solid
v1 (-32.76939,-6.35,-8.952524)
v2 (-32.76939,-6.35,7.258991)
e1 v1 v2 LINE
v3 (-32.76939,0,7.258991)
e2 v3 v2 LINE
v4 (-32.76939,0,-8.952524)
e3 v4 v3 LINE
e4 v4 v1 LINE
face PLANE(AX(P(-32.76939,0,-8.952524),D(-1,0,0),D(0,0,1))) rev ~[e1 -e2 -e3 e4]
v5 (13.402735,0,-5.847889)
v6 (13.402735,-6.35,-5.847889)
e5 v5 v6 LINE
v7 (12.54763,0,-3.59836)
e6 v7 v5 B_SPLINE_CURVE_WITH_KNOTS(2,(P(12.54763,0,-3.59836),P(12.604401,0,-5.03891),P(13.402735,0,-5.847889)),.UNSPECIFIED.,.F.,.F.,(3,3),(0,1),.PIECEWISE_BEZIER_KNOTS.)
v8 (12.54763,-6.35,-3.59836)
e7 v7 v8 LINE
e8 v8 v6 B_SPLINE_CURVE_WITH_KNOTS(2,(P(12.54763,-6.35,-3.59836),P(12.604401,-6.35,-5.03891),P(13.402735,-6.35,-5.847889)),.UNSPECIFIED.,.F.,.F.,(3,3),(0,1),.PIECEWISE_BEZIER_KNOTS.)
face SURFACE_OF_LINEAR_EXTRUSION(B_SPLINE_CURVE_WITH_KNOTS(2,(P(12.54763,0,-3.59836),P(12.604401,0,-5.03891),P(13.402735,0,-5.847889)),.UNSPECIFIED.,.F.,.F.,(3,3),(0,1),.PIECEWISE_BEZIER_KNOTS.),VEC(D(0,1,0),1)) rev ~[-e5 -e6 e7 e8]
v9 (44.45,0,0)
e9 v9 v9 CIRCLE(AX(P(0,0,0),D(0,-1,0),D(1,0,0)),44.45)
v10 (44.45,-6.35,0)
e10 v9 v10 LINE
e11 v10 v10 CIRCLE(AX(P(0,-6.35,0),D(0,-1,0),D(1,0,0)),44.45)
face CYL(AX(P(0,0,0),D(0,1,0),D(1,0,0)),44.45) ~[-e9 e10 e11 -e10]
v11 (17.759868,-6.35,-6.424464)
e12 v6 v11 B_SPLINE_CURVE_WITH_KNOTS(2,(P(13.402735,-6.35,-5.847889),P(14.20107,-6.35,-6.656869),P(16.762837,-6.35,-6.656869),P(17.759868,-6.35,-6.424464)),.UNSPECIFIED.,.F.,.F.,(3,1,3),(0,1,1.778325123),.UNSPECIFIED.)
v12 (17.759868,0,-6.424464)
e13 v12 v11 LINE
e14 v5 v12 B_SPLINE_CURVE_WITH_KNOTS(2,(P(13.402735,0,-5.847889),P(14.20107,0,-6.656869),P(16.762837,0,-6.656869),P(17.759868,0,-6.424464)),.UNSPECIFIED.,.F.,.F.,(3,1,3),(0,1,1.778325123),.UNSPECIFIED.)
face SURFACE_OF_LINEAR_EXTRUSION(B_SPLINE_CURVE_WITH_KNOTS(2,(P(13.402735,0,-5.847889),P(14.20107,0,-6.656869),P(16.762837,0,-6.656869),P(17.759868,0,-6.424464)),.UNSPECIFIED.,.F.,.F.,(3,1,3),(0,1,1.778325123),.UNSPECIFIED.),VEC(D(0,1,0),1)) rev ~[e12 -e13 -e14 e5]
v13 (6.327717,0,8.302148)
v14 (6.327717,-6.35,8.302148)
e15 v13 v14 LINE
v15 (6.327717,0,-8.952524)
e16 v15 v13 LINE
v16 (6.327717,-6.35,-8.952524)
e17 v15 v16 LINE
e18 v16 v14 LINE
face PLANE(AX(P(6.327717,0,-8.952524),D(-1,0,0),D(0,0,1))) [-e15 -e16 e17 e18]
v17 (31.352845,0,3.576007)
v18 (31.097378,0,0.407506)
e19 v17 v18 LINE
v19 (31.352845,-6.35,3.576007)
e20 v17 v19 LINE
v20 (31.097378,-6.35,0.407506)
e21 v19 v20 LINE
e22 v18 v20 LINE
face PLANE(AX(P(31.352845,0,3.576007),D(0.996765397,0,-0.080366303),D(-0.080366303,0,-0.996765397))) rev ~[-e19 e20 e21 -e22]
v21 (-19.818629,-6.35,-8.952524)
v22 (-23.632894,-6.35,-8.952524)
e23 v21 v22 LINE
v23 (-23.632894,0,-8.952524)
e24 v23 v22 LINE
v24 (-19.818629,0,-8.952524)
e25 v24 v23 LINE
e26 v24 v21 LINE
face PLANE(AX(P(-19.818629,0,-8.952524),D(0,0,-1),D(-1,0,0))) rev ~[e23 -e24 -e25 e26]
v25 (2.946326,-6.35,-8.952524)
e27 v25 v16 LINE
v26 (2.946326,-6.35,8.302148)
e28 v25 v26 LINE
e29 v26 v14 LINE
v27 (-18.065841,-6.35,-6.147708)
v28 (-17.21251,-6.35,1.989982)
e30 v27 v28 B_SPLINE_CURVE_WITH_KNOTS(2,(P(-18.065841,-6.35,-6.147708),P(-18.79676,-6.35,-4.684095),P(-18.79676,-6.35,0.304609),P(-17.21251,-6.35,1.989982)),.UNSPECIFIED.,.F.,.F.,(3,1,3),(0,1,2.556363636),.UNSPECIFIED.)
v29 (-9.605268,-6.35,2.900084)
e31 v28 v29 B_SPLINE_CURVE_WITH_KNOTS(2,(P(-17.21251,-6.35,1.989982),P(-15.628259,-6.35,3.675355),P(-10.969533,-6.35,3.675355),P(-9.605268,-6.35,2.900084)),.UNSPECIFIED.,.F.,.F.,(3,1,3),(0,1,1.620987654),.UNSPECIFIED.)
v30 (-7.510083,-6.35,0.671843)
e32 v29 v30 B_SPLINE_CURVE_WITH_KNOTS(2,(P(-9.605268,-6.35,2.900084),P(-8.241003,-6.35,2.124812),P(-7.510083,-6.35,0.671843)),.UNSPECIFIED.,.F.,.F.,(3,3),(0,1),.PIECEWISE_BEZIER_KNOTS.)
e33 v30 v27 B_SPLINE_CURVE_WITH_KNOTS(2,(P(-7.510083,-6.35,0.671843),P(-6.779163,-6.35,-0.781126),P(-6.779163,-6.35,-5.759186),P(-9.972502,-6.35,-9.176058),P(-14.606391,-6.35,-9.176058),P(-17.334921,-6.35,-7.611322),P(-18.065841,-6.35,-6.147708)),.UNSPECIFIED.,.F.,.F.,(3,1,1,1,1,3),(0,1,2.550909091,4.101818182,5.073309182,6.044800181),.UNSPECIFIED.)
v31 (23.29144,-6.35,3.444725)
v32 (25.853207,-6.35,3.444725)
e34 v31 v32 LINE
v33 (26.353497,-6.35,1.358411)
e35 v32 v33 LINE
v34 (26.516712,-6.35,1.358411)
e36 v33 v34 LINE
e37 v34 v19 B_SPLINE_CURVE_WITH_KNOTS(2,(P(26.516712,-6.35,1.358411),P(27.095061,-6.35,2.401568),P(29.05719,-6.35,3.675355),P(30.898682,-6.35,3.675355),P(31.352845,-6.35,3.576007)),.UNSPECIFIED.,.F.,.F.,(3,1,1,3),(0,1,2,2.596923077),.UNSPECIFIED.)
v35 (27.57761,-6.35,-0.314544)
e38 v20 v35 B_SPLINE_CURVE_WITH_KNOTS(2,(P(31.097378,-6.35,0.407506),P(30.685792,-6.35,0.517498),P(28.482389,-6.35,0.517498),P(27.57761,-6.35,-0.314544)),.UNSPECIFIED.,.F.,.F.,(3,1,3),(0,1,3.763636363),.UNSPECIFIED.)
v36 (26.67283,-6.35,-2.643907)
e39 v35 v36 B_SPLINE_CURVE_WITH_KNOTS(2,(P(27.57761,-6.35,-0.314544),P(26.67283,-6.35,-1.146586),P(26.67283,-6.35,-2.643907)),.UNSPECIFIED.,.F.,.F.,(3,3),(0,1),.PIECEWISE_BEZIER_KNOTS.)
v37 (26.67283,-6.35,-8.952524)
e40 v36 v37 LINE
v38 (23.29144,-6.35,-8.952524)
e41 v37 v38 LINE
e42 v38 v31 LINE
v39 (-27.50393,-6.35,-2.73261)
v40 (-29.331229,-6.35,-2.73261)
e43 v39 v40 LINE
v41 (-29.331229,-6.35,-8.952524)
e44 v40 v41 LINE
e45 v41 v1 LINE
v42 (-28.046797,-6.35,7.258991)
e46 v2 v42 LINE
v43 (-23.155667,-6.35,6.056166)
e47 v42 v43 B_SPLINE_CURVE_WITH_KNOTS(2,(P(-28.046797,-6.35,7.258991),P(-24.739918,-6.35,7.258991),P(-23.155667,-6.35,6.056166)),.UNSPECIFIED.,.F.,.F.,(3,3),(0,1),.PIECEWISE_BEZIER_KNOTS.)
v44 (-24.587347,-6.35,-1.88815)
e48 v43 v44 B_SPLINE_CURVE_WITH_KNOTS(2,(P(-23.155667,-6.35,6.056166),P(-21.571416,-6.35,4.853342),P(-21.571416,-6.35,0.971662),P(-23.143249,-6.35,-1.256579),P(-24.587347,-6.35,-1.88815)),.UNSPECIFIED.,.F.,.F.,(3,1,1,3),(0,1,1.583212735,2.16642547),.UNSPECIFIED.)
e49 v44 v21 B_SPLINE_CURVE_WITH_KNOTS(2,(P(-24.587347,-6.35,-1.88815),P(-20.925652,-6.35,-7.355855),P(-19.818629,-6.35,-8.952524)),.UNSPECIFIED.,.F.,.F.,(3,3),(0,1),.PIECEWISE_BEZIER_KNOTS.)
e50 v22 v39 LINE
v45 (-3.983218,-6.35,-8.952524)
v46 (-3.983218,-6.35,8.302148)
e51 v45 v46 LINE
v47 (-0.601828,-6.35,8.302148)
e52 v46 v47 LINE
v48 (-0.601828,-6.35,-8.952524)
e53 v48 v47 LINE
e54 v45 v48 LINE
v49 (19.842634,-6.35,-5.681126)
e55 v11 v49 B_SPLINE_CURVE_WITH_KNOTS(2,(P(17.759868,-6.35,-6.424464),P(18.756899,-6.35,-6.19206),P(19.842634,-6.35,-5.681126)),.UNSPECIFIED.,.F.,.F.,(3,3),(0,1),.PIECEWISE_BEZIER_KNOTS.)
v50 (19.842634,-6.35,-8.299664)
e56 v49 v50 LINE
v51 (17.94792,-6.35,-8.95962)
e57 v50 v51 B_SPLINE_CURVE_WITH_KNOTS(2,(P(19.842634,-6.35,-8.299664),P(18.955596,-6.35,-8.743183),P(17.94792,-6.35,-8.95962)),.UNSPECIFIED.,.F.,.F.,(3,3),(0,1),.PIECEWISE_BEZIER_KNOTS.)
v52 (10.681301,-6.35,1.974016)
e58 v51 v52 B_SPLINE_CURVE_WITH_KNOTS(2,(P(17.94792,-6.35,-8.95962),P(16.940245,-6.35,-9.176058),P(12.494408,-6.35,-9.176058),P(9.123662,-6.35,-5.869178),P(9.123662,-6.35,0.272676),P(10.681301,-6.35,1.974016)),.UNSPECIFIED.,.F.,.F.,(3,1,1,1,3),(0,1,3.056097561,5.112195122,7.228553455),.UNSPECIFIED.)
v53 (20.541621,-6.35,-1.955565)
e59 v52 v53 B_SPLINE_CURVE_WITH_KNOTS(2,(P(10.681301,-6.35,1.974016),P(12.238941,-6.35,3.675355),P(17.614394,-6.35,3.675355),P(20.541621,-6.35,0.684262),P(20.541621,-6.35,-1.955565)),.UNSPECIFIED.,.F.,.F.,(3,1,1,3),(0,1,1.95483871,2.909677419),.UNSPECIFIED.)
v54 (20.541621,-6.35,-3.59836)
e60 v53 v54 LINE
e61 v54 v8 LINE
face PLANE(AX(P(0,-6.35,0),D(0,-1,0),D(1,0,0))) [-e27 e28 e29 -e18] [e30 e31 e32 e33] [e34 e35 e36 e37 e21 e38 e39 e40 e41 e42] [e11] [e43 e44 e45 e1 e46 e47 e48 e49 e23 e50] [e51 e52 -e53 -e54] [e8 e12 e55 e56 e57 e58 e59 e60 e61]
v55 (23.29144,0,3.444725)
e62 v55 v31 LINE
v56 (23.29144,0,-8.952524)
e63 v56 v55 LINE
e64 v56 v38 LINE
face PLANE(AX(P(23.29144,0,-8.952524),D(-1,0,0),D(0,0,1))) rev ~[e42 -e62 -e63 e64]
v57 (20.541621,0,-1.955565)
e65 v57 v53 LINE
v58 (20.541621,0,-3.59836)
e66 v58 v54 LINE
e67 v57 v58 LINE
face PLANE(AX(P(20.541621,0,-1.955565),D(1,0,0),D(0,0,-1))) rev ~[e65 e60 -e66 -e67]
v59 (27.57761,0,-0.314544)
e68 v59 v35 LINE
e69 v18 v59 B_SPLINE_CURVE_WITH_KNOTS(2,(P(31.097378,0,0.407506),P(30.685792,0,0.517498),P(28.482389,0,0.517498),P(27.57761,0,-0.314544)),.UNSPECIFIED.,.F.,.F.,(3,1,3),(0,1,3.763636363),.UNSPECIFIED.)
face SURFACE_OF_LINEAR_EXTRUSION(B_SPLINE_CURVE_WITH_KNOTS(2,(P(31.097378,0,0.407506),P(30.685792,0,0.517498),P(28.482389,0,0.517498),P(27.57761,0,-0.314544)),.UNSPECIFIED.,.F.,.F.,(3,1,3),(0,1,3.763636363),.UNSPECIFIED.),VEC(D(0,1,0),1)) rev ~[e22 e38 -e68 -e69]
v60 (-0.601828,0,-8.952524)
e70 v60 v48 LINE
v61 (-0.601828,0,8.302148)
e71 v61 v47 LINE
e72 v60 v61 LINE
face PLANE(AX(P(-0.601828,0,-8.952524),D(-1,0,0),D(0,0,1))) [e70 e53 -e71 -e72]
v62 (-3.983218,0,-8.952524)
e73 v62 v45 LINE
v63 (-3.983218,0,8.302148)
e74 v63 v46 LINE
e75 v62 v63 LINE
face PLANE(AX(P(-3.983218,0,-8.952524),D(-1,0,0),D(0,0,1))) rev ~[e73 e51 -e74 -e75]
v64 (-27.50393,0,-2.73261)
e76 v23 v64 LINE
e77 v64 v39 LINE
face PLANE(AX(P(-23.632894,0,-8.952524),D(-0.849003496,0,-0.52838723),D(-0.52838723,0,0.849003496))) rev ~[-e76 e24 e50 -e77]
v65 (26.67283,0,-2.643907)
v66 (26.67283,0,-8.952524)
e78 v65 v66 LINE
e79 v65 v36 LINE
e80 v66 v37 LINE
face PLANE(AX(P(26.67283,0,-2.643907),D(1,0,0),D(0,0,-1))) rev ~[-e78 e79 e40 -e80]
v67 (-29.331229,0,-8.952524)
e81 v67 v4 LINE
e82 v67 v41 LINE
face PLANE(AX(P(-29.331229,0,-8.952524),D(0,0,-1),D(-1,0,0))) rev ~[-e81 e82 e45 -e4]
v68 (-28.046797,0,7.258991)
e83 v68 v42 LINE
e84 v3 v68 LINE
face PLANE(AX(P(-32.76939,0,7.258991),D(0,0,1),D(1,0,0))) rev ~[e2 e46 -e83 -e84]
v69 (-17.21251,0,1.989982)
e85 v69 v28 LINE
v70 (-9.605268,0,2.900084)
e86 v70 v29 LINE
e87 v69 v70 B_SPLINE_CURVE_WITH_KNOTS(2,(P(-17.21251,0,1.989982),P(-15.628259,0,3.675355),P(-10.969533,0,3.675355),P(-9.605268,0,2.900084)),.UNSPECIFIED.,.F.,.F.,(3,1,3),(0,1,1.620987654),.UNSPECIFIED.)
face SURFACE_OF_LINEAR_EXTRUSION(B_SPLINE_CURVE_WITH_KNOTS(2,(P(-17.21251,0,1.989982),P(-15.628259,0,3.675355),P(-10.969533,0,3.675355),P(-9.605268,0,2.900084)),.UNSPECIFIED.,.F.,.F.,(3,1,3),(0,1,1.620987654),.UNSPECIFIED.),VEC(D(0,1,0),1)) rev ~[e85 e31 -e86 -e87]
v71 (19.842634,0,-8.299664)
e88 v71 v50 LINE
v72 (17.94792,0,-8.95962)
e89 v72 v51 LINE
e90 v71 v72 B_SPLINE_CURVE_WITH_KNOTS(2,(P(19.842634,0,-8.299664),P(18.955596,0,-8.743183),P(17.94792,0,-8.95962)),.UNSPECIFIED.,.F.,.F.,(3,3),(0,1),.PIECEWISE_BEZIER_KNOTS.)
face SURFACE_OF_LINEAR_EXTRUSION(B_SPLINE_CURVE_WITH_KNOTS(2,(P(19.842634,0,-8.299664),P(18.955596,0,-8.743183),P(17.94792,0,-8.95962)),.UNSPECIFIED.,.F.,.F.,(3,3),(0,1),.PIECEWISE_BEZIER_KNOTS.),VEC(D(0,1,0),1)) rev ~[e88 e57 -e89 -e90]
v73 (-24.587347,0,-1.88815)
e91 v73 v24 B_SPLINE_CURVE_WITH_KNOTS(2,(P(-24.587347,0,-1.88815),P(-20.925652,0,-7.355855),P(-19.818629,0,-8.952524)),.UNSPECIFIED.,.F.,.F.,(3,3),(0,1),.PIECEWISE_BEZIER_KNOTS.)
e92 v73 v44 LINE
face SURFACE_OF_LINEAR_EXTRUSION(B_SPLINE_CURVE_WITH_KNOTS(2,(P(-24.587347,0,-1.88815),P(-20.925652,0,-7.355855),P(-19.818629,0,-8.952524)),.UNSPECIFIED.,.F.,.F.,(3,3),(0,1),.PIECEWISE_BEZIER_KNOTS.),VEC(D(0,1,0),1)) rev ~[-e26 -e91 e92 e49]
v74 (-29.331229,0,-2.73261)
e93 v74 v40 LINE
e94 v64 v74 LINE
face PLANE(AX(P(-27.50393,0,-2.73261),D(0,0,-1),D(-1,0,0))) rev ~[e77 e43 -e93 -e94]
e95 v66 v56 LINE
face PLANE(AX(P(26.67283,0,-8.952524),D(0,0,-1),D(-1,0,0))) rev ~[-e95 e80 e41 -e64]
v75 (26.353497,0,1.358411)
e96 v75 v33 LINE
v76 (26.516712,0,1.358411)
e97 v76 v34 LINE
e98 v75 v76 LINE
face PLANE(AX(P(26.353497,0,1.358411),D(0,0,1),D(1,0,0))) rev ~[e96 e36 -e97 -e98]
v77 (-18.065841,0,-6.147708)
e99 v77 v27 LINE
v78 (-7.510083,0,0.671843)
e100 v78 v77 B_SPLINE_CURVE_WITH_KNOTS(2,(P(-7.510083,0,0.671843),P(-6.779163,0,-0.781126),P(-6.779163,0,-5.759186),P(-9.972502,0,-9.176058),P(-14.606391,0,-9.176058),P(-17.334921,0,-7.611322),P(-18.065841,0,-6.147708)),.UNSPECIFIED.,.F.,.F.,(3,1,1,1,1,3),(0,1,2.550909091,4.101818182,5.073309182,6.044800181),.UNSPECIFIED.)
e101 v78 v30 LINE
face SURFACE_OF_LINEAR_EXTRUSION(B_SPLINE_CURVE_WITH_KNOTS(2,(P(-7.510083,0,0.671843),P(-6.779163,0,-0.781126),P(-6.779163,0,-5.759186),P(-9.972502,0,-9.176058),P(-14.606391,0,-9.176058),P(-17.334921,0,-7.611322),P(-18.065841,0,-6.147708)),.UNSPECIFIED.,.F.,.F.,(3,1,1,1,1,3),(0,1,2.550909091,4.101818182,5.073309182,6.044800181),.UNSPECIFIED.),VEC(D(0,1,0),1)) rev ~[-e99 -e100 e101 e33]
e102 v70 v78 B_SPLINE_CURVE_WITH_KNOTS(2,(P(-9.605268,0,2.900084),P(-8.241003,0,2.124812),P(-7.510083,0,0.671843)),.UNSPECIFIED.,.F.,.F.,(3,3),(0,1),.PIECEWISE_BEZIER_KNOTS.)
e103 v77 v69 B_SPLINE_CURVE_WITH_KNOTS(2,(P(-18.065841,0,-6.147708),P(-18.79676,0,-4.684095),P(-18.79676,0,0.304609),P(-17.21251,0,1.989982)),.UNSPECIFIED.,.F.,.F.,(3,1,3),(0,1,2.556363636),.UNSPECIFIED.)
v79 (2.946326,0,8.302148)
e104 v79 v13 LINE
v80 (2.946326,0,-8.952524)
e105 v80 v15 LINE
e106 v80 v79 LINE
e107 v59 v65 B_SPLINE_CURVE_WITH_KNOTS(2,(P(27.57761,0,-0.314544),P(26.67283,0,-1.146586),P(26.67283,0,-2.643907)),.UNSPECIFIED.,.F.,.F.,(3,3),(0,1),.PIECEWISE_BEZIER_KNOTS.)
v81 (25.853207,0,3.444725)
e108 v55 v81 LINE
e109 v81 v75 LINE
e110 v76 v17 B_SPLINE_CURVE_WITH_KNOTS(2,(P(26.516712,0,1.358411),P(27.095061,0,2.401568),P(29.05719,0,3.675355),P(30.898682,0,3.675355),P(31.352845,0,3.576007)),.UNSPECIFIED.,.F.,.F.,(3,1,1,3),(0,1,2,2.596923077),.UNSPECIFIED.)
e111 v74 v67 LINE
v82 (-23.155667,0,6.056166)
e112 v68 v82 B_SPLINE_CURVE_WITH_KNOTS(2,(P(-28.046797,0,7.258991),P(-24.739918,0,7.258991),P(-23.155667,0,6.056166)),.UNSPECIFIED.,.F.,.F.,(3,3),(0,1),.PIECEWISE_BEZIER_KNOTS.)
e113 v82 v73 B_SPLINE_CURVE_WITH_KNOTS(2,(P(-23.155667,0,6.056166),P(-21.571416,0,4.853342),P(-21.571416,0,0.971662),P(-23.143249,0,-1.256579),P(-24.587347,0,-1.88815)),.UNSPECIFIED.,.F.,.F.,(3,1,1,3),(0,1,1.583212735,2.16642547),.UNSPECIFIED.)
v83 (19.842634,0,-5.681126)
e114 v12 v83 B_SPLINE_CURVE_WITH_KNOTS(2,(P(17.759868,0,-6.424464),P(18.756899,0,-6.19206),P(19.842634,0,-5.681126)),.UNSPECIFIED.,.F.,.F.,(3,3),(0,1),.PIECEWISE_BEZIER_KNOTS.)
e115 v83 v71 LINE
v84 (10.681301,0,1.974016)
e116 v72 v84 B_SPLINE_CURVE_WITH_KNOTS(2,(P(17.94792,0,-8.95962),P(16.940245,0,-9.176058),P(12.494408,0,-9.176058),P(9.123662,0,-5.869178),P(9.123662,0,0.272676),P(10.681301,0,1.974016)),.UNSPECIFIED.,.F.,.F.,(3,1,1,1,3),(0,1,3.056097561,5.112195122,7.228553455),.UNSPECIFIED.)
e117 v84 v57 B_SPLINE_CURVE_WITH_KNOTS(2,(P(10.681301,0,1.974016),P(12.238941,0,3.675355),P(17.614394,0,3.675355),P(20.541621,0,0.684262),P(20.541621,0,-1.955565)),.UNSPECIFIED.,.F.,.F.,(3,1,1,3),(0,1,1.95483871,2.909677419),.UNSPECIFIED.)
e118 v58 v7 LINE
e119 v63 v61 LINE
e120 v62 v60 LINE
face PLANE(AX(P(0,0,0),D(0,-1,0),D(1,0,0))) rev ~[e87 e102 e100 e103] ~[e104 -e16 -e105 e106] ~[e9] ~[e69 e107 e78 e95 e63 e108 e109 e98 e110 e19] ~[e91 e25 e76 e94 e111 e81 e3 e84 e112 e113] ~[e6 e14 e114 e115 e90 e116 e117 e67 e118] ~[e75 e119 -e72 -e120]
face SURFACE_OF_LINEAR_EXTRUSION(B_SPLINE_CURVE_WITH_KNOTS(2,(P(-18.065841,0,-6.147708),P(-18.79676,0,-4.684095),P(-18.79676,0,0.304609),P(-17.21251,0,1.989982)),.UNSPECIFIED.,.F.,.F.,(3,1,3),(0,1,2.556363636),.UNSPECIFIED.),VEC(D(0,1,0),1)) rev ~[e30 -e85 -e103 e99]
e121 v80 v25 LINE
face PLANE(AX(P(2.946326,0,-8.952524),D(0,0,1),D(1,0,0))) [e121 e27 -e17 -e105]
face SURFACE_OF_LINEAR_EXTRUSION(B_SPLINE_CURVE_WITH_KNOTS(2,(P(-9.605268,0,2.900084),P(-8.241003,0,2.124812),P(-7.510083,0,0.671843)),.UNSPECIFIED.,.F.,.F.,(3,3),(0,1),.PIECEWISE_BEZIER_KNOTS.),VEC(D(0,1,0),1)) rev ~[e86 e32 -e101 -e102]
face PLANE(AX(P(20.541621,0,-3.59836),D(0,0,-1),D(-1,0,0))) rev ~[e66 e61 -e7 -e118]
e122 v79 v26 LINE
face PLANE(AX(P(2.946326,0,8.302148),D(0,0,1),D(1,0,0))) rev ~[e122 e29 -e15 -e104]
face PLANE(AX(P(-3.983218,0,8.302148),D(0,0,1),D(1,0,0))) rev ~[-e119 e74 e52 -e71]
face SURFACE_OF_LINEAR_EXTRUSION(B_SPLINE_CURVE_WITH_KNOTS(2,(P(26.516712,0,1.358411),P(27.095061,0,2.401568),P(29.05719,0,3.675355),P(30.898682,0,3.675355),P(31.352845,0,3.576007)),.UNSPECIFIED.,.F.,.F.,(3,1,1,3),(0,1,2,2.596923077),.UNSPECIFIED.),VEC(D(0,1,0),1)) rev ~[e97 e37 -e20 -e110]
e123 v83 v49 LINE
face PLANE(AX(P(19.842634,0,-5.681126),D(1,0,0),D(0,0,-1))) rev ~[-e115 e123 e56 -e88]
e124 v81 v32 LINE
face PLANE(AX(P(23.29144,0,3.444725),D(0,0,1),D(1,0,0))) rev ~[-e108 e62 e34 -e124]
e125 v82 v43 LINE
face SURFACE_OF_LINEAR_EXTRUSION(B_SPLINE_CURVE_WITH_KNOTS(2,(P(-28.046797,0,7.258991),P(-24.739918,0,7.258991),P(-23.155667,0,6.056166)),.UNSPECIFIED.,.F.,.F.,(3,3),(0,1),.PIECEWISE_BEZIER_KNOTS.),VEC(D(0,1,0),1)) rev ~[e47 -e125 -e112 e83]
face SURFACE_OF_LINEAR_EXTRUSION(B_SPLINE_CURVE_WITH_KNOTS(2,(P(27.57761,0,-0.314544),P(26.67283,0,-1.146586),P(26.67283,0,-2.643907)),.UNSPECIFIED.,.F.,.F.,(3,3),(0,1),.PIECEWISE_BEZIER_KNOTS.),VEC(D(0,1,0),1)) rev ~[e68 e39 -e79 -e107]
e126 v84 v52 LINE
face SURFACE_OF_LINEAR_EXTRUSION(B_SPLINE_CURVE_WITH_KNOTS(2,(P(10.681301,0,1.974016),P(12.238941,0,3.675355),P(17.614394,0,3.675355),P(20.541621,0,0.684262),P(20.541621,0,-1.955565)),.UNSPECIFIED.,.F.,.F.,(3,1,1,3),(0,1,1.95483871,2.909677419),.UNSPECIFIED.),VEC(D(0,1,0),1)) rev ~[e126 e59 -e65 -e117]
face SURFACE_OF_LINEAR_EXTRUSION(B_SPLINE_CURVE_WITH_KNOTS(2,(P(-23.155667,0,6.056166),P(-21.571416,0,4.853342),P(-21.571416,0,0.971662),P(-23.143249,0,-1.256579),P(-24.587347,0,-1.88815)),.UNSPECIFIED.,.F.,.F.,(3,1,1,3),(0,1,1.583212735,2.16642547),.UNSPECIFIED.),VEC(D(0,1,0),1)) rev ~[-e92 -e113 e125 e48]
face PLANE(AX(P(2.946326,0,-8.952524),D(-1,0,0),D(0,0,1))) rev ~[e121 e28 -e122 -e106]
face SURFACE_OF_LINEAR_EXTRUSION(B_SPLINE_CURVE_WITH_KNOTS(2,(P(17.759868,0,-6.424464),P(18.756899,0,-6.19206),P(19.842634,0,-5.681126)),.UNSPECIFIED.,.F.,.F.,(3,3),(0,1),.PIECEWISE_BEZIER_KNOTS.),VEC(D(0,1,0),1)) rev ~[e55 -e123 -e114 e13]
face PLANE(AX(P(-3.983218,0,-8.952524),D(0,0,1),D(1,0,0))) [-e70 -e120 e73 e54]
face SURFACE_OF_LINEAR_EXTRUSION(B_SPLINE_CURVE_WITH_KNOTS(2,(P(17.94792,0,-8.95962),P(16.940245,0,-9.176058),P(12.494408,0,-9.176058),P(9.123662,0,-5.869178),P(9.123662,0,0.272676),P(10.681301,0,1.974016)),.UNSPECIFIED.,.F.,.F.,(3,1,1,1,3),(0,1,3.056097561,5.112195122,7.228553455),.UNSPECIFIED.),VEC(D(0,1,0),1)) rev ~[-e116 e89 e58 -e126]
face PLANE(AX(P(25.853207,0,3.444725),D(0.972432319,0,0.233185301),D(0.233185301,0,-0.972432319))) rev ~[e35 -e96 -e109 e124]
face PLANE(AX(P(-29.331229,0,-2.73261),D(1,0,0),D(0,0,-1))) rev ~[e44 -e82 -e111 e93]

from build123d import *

# Parameters (mm, degrees)
F0_R     = 44.45
F0_W     = 3.3813905481
F0_H     = 17.2546718104
F1_DEPTH = 6.35


with BuildPart() as f1:
    # F0 (on Front) → F1 (new body)
    with BuildSketch(Plane.XZ):
        Circle(F0_R)
        with BuildLine():
            Line((-27.5039295863, -2.7326104788), (-29.3312287807, -2.7326104788))
            Line((-29.3312287807, -2.7326104788), (-29.3312287807, -8.9525240473))
            Line((-29.3312287807, -8.9525240473), (-32.7693897892, -8.9525240473))
            Line((-32.7693897892, -8.9525240473), (-32.7693897892, 7.2589905531))
            Line((-32.7693897892, 7.2589905531), (-28.046797114, 7.2589905531))
            add(Edge.make_bspline(
                [(-28.046797114, 7.2589905531), (-24.7399177952, 7.2589905531), (-23.1556671344, 6.0561664231)],
                knots=[0, 0, 0, 1, 1, 1], degree=2))
            add(Edge.make_bspline(
                [(-23.1556671344, 6.0561664231), (-21.5714164736, 4.8533422932), (-21.5714164736, 2.4015680344)],
                knots=[0, 0, 0, 1, 1, 1], degree=2))
            add(Edge.make_bspline(
                [(-21.5714164736, 2.4015680344), (-21.5714164736, 0.9716620628), (-22.3573325349, -0.1424582227)],
                knots=[0, 0, 0, 1, 1, 1], degree=2))
            add(Edge.make_bspline(
                [(-22.3573325349, -0.1424582227), (-23.1432485962, -1.2565785082), (-24.5873471828, -1.8881498803)],
                knots=[0, 0, 0, 1, 1, 1], degree=2))
            add(Edge.make_bspline(
                [(-24.5873471828, -1.8881498803), (-20.9256524865, -7.3558548484), (-19.8186285085, -8.9525240473)],
                knots=[0, 0, 0, 1, 1, 1], degree=2))
            Line((-19.8186285085, -8.9525240473), (-23.6328938172, -8.9525240473))
            Line((-23.6328938172, -8.9525240473), (-27.5039295863, -2.7326104788))
        make_face(mode=Mode.SUBTRACT)
        with BuildLine():
            add(Edge.make_bspline(
                [(-7.5100830612, 0.6718430688), (-6.7791633834, -0.7811259023), (-6.7791633834, -2.7326104788)],
                knots=[0, 0, 0, 1, 1, 1], degree=2))
            add(Edge.make_bspline(
                [(-6.7791633834, -2.7326104788), (-6.7791633834, -5.7591856494), (-8.3758325824, -7.4676216923)],
                knots=[0, 0, 0, 1, 1, 1], degree=2))
            add(Edge.make_bspline(
                [(-8.3758325824, -7.4676216923), (-9.9725017814, -9.1760577352), (-12.8216692632, -9.1760577352)],
                knots=[0, 0, 0, 1, 1, 1], degree=2))
            add(Edge.make_bspline(
                [(-12.8216692632, -9.1760577352), (-14.6063906122, -9.1760577352), (-15.9706557389, -8.3936898277)],
                knots=[0, 0, 0, 1, 1, 1], degree=2))
            add(Edge.make_bspline(
                [(-15.9706557389, -8.3936898277), (-17.3349208656, -7.6113219202), (-18.0658405434, -6.1477084878)],
                knots=[0, 0, 0, 1, 1, 1], degree=2))
            add(Edge.make_bspline(
                [(-18.0658405434, -6.1477084878), (-18.7967602211, -4.6840950554), (-18.7967602211, -2.7326104788)],
                knots=[0, 0, 0, 1, 1, 1], degree=2))
            add(Edge.make_bspline(
                [(-18.7967602211, -2.7326104788), (-18.7967602211, 0.304609153), (-17.2125095604, 1.9899821964)],
                knots=[0, 0, 0, 1, 1, 1], degree=2))
            add(Edge.make_bspline(
                [(-17.2125095604, 1.9899821964), (-15.6282588996, 3.6753552398), (-12.7542543414, 3.6753552398)],
                knots=[0, 0, 0, 1, 1, 1], degree=2))
            add(Edge.make_bspline(
                [(-12.7542543414, 3.6753552398), (-10.9695329923, 3.6753552398), (-9.6052678656, 2.9000836398)],
                knots=[0, 0, 0, 1, 1, 1], degree=2))
            add(Edge.make_bspline(
                [(-9.6052678656, 2.9000836398), (-8.2410027389, 2.1248120399), (-7.5100830612, 0.6718430688)],
                knots=[0, 0, 0, 1, 1, 1], degree=2))
        make_face(mode=Mode.SUBTRACT)
        with Locations((-2.2925229343, -0.3251881421)):
            Rectangle(F0_W, F0_H, mode=Mode.SUBTRACT)
        with Locations((4.6370213893, -0.3251881421)):
            Rectangle(F0_W, F0_H, mode=Mode.SUBTRACT)
        with BuildLine():
            add(Edge.make_bspline(
                [(17.9479202783, -8.9596203549), (16.940244606, -9.1760577352), (15.485501558, -9.1760577352)],
                knots=[0, 0, 0, 1, 1, 1], degree=2))
            add(Edge.make_bspline(
                [(15.485501558, -9.1760577352), (12.4944079253, -9.1760577352), (10.8090348819, -7.5226180758)],
                knots=[0, 0, 0, 1, 1, 1], degree=2))
            add(Edge.make_bspline(
                [(10.8090348819, -7.5226180758), (9.1236618385, -5.8691784164), (9.1236618385, -2.8426032459)],
                knots=[0, 0, 0, 1, 1, 1], degree=2))
            add(Edge.make_bspline(
                [(9.1236618385, -2.8426032459), (9.1236618385, 0.272675769), (10.681301346, 1.9740155044)],
                knots=[0, 0, 0, 1, 1, 1], degree=2))
            add(Edge.make_bspline(
                [(10.681301346, 1.9740155044), (12.2389408534, 3.6753552398), (14.9887600295, 3.6753552398)],
                knots=[0, 0, 0, 1, 1, 1], degree=2))
            add(Edge.make_bspline(
                [(14.9887600295, 3.6753552398), (17.6143938234, 3.6753552398), (19.0780072558, 2.1798084234)],
                knots=[0, 0, 0, 1, 1, 1], degree=2))
            add(Edge.make_bspline(
                [(19.0780072558, 2.1798084234), (20.5416206882, 0.684261607), (20.5416206882, -1.955564802)],
                knots=[0, 0, 0, 1, 1, 1], degree=2))
            Line((20.5416206882, -1.955564802), (20.5416206882, -3.5983600001))
            Line((20.5416206882, -3.5983600001), (12.5476302319, -3.5983600001))
            add(Edge.make_bspline(
                [(12.5476302319, -3.5983600001), (12.6044006923, -5.0389104329), (13.4027352918, -5.8478894938)],
                knots=[0, 0, 0, 1, 1, 1], degree=2))
            add(Edge.make_bspline(
                [(13.4027352918, -5.8478894938), (14.2010698913, -6.6568685546), (15.6416203242, -6.6568685546)],
                knots=[0, 0, 0, 1, 1, 1], degree=2))
            add(Edge.make_bspline(
                [(15.6416203242, -6.6568685546), (16.7628369172, -6.6568685546), (17.7598681281, -6.4244644823)],
                knots=[0, 0, 0, 1, 1, 1], degree=2))
            add(Edge.make_bspline(
                [(17.7598681281, -6.4244644823), (18.7568993391, -6.19206041), (19.8426343944, -5.6811262663)],
                knots=[0, 0, 0, 1, 1, 1], degree=2))
            Line((19.8426343944, -5.6811262663), (19.8426343944, -8.2996637526))
            add(Edge.make_bspline(
                [(19.8426343944, -8.2996637526), (18.9555959505, -8.7431829746), (17.9479202783, -8.9596203549)],
                knots=[0, 0, 0, 1, 1, 1], degree=2))
        make_face(mode=Mode.SUBTRACT)
        with BuildLine():
            add(Edge.make_bspline(
                [(28.0761252305, 3.0384616371), (29.0571897494, 3.6753552398), (30.2103397265, 3.6753552398)],
                knots=[0, 0, 0, 1, 1, 1], degree=2))
            add(Edge.make_bspline(
                [(30.2103397265, 3.6753552398), (30.8986815589, 3.6753552398), (31.3528452422, 3.5760069341)],
                knots=[0, 0, 0, 1, 1, 1], degree=2))
            Line((31.3528452422, 3.5760069341), (31.0973781704, 0.4075056125))
            add(Edge.make_bspline(
                [(31.0973781704, 0.4075056125), (30.6857923324, 0.5174983795), (30.1003469594, 0.5174983795)],
                knots=[0, 0, 0, 1, 1, 1], degree=2))
            add(Edge.make_bspline(
                [(30.1003469594, 0.5174983795), (28.4823888378, 0.5174983795), (27.577609625, -0.3145436808)],
                knots=[0, 0, 0, 1, 1, 1], degree=2))
            add(Edge.make_bspline(
                [(27.577609625, -0.3145436808), (26.6728304123, -1.1465857412), (26.6728304123, -2.6439066345)],
                knots=[0, 0, 0, 1, 1, 1], degree=2))
            Line((26.6728304123, -2.6439066345), (26.6728304123, -8.9525240473))
            Line((26.6728304123, -8.9525240473), (23.2914398642, -8.9525240473))
            Line((23.2914398642, -8.9525240473), (23.2914398642, 3.4447252444))
            Line((23.2914398642, 3.4447252444), (25.8532068901, 3.4447252444))
            Line((25.8532068901, 3.4447252444), (26.3534965725, 1.3584108243))
            Line((26.3534965725, 1.3584108243), (26.5167116462, 1.3584108243))
            add(Edge.make_bspline(
                [(26.5167116462, 1.3584108243), (27.0950607116, 2.4015680344), (28.0761252305, 3.0384616371)],
                knots=[0, 0, 0, 1, 1, 1], degree=2))
        make_face(mode=Mode.SUBTRACT)
    extrude(amount=F1_DEPTH)


solid = f1.part
